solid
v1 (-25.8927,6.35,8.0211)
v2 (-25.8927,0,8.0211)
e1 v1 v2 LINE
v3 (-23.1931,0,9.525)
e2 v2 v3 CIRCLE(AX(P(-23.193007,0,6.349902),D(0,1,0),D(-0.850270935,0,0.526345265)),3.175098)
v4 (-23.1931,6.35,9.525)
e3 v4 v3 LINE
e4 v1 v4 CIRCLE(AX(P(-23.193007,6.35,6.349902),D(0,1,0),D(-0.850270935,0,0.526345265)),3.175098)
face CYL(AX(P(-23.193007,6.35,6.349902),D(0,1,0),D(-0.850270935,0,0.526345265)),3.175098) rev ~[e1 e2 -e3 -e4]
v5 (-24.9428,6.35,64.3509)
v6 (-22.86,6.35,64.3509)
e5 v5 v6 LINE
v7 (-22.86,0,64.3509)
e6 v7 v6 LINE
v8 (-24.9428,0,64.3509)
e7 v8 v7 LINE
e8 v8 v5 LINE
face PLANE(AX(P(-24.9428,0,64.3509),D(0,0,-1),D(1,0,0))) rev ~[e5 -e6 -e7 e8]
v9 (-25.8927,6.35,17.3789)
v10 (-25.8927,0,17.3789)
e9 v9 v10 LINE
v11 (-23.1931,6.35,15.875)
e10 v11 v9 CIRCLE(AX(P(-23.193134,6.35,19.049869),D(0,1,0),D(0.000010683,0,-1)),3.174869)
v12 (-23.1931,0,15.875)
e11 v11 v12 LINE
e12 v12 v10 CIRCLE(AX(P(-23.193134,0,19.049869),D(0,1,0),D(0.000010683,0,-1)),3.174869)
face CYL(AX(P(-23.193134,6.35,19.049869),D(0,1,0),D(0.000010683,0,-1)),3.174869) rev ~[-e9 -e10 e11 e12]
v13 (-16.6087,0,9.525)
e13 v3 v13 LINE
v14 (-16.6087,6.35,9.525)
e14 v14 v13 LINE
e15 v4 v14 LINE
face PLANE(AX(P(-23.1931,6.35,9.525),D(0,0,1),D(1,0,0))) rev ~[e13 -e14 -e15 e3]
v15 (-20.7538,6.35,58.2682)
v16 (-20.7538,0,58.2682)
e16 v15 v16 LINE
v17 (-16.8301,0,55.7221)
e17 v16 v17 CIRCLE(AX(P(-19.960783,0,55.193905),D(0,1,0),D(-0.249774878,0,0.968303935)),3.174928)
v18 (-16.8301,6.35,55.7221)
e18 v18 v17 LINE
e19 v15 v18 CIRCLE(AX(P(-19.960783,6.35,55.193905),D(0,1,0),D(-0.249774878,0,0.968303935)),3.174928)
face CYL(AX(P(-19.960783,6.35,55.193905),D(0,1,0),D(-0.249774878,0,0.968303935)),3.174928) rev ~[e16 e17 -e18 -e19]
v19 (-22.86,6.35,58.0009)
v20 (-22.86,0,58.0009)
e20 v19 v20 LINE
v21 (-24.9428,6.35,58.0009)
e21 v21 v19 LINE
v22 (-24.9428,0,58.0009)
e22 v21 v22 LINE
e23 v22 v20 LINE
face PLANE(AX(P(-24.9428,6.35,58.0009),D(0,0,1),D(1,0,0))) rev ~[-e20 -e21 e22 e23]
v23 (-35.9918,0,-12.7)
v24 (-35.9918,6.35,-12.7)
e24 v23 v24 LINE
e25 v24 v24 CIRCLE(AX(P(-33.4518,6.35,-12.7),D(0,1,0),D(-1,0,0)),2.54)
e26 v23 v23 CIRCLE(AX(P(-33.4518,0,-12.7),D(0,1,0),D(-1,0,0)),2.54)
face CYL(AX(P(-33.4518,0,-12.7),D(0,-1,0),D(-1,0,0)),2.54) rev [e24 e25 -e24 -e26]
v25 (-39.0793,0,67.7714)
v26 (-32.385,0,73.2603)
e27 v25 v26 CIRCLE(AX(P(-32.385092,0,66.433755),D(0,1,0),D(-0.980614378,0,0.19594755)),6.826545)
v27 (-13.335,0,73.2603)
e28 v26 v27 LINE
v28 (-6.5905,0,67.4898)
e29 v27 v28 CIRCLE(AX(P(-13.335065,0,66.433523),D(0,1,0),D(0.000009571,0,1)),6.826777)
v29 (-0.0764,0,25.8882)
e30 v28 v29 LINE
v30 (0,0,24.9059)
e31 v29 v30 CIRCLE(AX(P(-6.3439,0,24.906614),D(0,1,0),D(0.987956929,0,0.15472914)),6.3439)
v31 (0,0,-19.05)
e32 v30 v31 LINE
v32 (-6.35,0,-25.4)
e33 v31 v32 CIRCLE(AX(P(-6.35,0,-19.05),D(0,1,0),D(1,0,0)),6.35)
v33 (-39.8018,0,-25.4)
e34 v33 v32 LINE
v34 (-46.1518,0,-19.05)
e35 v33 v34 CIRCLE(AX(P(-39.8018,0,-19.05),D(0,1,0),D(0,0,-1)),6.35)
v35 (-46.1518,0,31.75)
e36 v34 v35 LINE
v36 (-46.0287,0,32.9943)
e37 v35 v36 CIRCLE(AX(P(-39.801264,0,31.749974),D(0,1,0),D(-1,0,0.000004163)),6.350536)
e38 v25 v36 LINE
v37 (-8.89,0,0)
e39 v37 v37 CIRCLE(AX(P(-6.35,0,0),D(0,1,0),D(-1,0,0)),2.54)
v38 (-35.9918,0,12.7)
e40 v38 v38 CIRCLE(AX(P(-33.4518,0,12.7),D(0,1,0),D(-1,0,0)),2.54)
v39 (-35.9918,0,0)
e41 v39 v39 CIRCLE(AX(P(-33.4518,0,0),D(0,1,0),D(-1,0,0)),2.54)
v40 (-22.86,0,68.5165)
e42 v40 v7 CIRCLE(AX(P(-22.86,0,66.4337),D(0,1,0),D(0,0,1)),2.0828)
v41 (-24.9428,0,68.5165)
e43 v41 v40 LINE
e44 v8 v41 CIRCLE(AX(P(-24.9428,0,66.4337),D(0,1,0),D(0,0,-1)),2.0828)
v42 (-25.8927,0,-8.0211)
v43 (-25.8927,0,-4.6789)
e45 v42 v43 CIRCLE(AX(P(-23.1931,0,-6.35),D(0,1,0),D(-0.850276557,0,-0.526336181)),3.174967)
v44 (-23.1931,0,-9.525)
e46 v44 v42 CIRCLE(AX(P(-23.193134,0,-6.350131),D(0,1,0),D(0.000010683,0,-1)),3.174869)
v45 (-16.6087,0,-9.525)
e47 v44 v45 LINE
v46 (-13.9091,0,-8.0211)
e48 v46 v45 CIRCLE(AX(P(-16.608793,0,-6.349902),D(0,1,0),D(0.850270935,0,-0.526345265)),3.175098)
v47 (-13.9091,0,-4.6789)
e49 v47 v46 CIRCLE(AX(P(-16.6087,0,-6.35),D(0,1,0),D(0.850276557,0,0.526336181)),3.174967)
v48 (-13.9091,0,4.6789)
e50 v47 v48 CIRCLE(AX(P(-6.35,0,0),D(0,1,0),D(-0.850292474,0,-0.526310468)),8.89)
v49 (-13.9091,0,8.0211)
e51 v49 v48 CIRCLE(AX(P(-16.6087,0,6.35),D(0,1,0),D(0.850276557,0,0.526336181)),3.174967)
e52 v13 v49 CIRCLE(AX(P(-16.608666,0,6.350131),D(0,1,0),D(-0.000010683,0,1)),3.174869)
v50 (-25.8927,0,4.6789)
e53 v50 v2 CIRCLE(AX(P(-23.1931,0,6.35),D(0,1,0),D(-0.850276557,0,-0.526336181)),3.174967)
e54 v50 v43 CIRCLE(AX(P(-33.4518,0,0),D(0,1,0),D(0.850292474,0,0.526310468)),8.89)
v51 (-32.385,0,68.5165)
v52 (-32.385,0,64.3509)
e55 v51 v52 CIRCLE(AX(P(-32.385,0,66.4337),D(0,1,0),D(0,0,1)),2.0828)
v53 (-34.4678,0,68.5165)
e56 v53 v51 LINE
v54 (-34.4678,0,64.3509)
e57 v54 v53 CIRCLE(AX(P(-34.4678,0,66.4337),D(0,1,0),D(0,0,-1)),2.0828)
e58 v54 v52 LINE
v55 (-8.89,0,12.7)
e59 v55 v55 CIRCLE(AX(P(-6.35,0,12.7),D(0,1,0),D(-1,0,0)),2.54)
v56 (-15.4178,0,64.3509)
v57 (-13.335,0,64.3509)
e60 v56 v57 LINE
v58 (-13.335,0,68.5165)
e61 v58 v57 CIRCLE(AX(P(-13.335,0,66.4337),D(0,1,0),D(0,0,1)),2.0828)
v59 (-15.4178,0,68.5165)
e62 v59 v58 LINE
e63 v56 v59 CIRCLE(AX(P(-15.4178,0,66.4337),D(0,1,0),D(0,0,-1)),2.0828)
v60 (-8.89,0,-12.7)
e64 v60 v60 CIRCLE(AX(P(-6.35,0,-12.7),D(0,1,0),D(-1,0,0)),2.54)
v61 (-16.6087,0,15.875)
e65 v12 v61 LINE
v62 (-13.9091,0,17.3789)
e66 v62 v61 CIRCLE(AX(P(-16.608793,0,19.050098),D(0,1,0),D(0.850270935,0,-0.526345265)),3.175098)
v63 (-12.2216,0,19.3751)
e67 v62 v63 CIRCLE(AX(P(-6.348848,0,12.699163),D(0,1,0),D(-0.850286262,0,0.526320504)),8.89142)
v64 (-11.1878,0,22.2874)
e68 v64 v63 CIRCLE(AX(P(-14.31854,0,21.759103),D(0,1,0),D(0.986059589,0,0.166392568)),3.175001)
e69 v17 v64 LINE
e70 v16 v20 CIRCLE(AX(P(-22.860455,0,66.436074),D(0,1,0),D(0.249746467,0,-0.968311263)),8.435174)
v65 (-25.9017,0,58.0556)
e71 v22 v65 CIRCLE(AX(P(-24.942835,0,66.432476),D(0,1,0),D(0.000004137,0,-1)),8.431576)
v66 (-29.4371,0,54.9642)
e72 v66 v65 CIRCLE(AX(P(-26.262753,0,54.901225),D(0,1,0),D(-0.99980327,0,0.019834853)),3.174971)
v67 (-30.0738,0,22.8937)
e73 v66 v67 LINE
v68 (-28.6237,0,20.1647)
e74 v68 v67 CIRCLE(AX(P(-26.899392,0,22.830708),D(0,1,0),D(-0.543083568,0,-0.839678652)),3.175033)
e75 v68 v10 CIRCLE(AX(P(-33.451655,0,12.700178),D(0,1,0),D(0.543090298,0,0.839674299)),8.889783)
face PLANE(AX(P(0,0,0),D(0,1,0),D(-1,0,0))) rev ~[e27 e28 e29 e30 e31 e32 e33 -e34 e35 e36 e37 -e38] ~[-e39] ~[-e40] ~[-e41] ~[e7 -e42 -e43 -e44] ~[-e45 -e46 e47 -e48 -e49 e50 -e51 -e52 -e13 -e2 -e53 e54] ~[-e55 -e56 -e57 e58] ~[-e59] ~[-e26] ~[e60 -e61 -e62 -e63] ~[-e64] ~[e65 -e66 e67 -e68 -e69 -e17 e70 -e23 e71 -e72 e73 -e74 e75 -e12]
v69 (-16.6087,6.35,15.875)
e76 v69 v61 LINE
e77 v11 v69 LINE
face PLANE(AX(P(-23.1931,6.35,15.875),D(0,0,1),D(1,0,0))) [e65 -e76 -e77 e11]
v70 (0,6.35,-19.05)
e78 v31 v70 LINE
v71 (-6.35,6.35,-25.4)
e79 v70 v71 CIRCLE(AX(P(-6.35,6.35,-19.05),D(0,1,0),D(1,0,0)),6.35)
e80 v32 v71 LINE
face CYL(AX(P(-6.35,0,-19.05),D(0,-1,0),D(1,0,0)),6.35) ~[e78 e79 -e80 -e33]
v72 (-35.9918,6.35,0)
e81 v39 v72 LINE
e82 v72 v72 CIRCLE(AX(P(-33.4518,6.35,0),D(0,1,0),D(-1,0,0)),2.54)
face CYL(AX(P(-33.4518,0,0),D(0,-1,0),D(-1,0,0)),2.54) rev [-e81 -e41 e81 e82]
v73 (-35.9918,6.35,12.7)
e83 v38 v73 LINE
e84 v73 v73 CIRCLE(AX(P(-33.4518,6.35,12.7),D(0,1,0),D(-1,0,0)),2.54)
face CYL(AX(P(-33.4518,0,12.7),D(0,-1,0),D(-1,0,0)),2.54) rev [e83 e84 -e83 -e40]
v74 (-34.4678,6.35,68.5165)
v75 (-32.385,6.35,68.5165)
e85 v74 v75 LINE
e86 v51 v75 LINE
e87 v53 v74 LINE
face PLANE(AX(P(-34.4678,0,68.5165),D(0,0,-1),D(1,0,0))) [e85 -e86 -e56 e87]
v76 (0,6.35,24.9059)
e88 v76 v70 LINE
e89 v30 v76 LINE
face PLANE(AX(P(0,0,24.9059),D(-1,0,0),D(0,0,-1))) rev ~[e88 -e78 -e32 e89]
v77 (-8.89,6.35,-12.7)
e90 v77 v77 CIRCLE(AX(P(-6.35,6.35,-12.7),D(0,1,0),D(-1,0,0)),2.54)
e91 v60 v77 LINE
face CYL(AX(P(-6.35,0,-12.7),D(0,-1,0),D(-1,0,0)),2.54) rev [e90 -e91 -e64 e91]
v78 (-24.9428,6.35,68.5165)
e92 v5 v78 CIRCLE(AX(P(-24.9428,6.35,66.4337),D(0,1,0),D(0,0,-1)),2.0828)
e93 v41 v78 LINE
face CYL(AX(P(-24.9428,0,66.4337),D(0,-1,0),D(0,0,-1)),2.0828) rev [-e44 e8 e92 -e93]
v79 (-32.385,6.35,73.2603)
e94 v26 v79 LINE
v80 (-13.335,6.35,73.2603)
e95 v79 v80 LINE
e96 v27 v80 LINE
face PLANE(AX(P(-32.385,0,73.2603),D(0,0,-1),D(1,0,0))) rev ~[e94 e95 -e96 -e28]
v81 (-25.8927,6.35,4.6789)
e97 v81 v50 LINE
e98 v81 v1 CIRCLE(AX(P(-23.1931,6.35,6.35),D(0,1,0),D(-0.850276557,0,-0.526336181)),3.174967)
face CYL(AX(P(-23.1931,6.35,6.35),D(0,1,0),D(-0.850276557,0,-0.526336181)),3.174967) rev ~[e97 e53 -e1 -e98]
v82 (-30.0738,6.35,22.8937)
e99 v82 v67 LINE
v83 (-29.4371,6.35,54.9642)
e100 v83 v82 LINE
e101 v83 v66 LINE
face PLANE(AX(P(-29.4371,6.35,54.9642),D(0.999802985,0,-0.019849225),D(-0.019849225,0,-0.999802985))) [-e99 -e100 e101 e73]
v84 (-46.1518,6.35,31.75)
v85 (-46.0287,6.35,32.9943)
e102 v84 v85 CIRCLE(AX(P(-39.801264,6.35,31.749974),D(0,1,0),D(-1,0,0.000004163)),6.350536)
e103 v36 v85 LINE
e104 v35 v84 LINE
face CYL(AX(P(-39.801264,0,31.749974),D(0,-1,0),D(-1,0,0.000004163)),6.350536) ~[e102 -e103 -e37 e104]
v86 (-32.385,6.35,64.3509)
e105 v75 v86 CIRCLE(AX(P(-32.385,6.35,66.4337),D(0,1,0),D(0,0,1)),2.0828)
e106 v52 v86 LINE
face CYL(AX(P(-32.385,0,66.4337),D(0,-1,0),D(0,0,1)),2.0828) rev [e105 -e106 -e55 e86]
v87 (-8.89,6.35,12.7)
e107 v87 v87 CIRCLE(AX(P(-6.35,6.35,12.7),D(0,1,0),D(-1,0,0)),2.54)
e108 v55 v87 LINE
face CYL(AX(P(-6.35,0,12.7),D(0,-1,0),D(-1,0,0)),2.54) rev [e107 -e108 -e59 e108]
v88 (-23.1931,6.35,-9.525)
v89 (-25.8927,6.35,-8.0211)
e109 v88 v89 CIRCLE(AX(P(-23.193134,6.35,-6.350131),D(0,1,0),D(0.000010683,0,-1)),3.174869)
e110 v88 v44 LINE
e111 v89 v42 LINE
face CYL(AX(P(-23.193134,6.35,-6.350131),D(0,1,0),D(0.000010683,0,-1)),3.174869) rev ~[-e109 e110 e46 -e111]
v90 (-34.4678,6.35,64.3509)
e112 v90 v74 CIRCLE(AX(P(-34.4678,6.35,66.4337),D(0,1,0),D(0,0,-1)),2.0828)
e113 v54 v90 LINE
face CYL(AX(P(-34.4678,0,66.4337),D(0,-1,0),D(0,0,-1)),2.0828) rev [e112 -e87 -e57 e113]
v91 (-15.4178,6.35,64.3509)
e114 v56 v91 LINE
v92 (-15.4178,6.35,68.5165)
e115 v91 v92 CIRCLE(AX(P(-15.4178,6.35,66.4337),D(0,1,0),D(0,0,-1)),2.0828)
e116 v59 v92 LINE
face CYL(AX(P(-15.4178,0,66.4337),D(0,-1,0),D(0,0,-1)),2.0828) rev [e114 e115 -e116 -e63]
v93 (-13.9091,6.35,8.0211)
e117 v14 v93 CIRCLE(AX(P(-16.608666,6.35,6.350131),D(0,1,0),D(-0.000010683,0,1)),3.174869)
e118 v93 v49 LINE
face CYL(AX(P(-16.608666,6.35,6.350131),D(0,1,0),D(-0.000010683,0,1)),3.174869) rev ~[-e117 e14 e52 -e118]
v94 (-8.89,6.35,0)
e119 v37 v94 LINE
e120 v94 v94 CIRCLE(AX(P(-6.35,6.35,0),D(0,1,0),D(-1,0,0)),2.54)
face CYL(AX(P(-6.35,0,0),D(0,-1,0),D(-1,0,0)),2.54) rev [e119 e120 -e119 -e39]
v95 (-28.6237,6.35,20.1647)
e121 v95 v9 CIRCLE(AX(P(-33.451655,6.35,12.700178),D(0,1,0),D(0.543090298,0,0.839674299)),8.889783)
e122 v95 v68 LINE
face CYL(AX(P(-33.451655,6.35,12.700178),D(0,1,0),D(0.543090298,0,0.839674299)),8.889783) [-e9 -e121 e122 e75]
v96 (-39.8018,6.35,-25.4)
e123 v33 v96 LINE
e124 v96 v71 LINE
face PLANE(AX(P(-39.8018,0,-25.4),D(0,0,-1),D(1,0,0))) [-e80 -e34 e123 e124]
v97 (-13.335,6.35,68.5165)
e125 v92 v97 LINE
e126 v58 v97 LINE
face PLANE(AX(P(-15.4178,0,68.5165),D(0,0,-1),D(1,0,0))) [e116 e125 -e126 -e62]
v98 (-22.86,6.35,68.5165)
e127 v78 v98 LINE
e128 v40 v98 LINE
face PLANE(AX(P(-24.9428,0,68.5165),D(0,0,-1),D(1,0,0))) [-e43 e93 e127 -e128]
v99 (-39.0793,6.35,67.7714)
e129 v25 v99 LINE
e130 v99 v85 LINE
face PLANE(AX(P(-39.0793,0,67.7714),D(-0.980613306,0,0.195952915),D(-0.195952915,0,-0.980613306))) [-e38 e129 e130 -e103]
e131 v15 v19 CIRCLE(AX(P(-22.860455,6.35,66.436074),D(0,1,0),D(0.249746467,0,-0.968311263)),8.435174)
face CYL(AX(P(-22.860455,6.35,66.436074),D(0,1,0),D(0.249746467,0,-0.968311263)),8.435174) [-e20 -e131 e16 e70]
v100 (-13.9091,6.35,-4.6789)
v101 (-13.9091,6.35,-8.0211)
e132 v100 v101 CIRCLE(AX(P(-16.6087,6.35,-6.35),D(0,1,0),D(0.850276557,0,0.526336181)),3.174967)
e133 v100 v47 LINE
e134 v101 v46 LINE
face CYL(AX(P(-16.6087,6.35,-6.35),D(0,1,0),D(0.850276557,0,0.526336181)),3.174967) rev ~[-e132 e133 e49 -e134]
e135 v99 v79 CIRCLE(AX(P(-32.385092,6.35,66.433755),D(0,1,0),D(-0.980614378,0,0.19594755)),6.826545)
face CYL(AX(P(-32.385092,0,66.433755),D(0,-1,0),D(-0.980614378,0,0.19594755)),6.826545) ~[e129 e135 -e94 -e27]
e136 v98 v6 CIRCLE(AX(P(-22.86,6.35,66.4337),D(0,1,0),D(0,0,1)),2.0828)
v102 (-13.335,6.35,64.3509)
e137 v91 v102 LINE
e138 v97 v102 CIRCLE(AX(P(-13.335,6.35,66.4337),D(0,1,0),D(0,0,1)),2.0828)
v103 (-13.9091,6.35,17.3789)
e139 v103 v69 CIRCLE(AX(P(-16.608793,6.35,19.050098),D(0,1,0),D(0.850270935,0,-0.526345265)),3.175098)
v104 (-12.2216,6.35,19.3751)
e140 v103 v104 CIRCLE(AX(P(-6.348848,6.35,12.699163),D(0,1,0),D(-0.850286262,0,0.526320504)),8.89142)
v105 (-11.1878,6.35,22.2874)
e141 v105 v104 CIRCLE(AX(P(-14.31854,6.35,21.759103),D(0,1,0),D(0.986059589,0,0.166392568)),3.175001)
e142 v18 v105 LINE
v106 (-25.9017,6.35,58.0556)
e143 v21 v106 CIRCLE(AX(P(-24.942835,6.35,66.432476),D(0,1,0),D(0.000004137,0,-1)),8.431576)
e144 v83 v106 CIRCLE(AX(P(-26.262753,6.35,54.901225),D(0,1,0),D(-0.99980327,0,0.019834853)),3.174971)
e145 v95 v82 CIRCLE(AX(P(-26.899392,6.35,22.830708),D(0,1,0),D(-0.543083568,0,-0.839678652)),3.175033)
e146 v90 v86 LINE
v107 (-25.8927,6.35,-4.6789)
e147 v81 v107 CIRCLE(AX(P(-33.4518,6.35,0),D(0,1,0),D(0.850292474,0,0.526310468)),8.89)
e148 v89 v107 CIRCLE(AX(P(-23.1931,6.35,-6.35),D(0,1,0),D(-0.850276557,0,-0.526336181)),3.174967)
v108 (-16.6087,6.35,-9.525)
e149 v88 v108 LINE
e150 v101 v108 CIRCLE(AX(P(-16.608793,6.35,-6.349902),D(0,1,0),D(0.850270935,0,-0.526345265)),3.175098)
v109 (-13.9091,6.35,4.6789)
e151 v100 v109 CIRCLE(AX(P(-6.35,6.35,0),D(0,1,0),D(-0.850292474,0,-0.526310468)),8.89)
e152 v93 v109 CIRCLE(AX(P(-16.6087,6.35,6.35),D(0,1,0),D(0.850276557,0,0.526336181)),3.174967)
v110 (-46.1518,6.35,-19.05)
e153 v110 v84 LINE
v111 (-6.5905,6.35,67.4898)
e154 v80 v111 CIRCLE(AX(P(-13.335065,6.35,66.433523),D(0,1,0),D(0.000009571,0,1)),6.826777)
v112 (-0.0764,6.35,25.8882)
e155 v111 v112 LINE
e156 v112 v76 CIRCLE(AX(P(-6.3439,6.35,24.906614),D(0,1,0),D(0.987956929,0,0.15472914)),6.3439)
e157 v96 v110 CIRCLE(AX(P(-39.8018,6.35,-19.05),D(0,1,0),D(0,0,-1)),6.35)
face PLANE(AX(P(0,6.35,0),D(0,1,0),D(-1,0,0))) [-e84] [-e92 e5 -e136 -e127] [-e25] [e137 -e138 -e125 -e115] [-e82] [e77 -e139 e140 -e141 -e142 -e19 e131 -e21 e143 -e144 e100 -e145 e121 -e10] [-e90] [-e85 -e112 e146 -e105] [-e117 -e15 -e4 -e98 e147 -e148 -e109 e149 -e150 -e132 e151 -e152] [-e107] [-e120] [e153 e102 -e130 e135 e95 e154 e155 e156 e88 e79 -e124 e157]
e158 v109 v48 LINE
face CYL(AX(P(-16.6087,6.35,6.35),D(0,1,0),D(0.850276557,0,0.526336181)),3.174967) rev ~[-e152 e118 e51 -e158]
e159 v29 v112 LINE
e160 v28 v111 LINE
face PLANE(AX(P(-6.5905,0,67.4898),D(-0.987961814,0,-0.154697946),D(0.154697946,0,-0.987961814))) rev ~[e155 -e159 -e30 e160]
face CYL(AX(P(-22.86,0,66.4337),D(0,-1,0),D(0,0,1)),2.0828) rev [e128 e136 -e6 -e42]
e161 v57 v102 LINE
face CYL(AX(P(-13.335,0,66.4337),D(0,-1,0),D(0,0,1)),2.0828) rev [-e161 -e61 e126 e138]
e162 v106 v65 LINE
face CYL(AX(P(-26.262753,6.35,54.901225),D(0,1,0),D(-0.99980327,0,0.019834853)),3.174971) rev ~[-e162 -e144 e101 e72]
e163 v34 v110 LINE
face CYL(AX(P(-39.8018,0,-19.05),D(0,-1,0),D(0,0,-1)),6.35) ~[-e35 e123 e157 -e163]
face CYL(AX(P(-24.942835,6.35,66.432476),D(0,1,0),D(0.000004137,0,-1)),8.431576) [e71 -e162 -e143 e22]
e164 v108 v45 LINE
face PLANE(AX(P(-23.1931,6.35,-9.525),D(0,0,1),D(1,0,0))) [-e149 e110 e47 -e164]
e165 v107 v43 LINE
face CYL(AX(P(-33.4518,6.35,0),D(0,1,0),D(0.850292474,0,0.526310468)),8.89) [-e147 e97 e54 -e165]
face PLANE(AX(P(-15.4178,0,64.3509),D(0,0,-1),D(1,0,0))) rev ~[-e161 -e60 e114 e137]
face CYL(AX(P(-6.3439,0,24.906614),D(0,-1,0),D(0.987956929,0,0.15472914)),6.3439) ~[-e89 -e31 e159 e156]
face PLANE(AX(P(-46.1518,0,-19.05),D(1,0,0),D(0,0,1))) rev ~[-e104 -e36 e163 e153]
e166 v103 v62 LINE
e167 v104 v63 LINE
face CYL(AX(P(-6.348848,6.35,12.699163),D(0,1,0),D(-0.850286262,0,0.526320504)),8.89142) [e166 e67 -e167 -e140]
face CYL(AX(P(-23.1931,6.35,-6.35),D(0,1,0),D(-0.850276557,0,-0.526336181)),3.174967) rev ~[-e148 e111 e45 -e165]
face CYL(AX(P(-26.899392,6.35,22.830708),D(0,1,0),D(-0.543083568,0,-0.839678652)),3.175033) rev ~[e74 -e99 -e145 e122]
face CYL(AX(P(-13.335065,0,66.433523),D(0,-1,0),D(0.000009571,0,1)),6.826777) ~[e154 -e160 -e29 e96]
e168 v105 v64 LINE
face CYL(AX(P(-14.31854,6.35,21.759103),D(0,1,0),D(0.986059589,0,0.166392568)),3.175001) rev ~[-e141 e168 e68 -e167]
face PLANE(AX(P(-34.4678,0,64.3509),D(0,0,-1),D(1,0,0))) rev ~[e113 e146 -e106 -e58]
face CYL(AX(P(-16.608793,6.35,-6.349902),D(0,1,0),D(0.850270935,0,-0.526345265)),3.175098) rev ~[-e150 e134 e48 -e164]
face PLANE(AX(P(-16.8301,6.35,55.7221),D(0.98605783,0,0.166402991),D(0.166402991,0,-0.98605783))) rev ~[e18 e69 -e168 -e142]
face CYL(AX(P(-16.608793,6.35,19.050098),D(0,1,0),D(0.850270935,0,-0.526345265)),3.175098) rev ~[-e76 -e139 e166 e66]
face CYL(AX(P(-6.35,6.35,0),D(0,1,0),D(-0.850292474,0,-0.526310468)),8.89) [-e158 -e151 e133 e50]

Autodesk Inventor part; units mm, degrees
ref_plane "YZ Plane" through (0, 0, 0) normal (1, 0, 0) x (0, 1, 0)
ref_plane "XZ Plane" through (0, 0, 0) normal (0, 1, 0) x (-1, 0, 0)
ref_plane "XY Plane" through (0, 0, 0) normal (0, 0, 1) x (1, 0, 0)
sketch "Sketch1" plane through (0, 0, 0) normal (0, 1, 0) x (-1, 0, 0)
  line L0 (0, 25.4) -> (0, -25.4) construction
  line L1 (0, -25.4) -> (46.1518, -25.4) construction
  line L2 (15.4178, 64.3509) -> (13.335, 64.3509)
  line L3 (15.4178, 68.5165) -> (13.335, 68.5165)
  arc A0 (13.335, 68.5165) -> (13.335, 64.3509) centre (13.335, 66.4337) ccw
  arc A1 (15.4178, 64.3509) -> (15.4178, 68.5165) centre (15.4178, 66.4337) ccw
  circle A2 centre (13.335, 66.4337) radius 6.8266 construction
  line L4 (32.385, 73.2603) -> (13.335, 73.2603)
  circle A3 centre (6.35, 0) radius 2.54
  circle A4 centre (6.35, -12.7) radius 2.54
  circle A5 centre (6.35, 12.7) radius 2.54
  line L5 (6.35, -12.7) -> (6.35, 12.7) construction
  line L6 (6.5905, 67.4898) -> (0.0764, 25.8882)
  line L7 (0, 24.9059) -> (0, -19.05)
  arc A6 (0.0764, 25.8882) -> (0, 24.9059) centre (6.35, 24.9059) ccw
  line L8 (46.1518, -19.05) -> (46.1518, 31.75)
  line L9 (39.0793, 67.7714) -> (46.0287, 32.9943)
  arc A7 (46.1518, 31.75) -> (46.0287, 32.9943) centre (39.8018, 31.75) ccw
  arc A8 (13.335, 73.2603) -> (6.5905, 67.4898) centre (13.335, 66.4337) ccw
  line L10 (39.8018, -25.4) -> (6.35, -25.4)
  circle A9 centre (33.4518, 12.7) radius 2.54
  circle A10 centre (33.4518, 0) radius 2.54
  circle A11 centre (33.4518, -12.7) radius 2.54
  line L11 (33.4518, -12.7) -> (33.4518, 12.7) construction
  arc A12 (39.8018, -25.4) -> (46.1518, -19.05) centre (39.8018, -19.05) ccw
  arc A13 (0, -19.05) -> (6.35, -25.4) centre (6.35, -19.05) ccw
  arc A14 (24.9428, 64.3509) -> (24.9428, 68.5165) centre (24.9428, 66.4337) ccw
  line L12 (24.9428, 64.3509) -> (22.86, 64.3509)
  line L13 (24.9428, 68.5165) -> (22.86, 68.5165)
  arc A15 (22.86, 68.5165) -> (22.86, 64.3509) centre (22.86, 66.4337) ccw
  circle A16 centre (22.86, 66.4337) radius 6.8266 construction
  arc A17 (34.4678, 64.3509) -> (34.4678, 68.5165) centre (34.4678, 66.4337) ccw
  line L14 (34.4678, 64.3509) -> (32.385, 64.3509)
  line L15 (34.4678, 68.5165) -> (32.385, 68.5165)
  arc A18 (32.385, 68.5165) -> (32.385, 64.3509) centre (32.385, 66.4337) ccw
  circle A19 centre (32.385, 66.4337) radius 6.8266 construction
  arc A20 (39.0793, 67.7714) -> (32.385, 73.2603) centre (32.385, 66.4337) ccw
  line L16 (34.4678, 66.4337) -> (13.335, 66.4337) construction
  point P0 (0, 0)
  point P1 (0, 0)
  point P2 (22.86, 73.2603)
  point P3 (16.1155, 67.4898)
  point P4 (25.6405, 67.4898)
  dimension "d2" = 50.8
  dimension "d3" = 6.35
  dimension "d6" = 91.8337
  dimension "d8" = 13.335
  dimension "d9" = 2.0828
  dimension "d10" = 2.0828
  dimension "d11" = 2.0828
  dimension "d21" = 13.6533
  dimension "d31" = 5.08
  dimension "d32" = 12.7
  dimension "d33" = 12.7
  dimension "d41" = 6.35
  dimension "d42" = 6.35
  dimension "d43" = 13.335
  dimension "d45" = 12.7
  dimension "d46" = 12.7
  dimension "d47" = 6.35
  dimension "d85" = 9.525
  dimension "d90" = 27.1018
extrude "Extrusion3" add sketch "Sketch1" along normal blind 6.35
sketch "Sketch3" plane through (0, 6.35, 0) normal (0, 1, 0) x (1, 0, 0)
  line L0 (-32.385, -73.2603) -> (-13.335, -73.2603) construction
  arc A0 (-13.335, -73.2603) -> (-6.5905, -67.4898) centre (-13.335, -66.4337) ccw construction
  line L1 (-6.5905, -67.4898) -> (-0.0764, -25.8882) construction
  arc A1 (-0.0764, -25.8882) -> (0, -24.9059) centre (-6.35, -24.9059) ccw construction
  line L2 (0, -24.9059) -> (0, 19.05) construction
  arc A2 (0, 19.05) -> (-6.35, 25.4) centre (-6.35, 19.05) ccw construction
  line L3 (-6.35, 25.4) -> (-39.8018, 25.4) construction
  arc A3 (-39.8018, 25.4) -> (-46.1518, 19.05) centre (-39.8018, 19.05) ccw construction
  line L4 (-46.1518, 19.05) -> (-46.1518, -31.75) construction
  arc A4 (-46.1518, -31.75) -> (-46.0287, -32.9943) centre (-39.8018, -31.75) ccw construction
  line L5 (-46.0287, -32.9943) -> (-39.0793, -67.7714) construction
  arc A5 (-39.0793, -67.7714) -> (-32.385, -73.2603) centre (-32.385, -66.4337) ccw construction
  circle A6 centre (-6.35, 0) radius 2.54 construction
  circle A7 centre (-6.35, 12.7) radius 2.54 construction
  circle A8 centre (-6.35, -12.7) radius 2.54 construction
  circle A9 centre (-33.4518, -12.7) radius 2.54 construction
  circle A10 centre (-33.4518, 0) radius 2.54 construction
  circle A11 centre (-33.4518, 12.7) radius 2.54 construction
  line L6 (-34.4678, -64.3509) -> (-32.385, -64.3509) construction
  arc A12 (-32.385, -68.5165) -> (-32.385, -64.3509) centre (-32.385, -66.4337) ccw construction
  line L7 (-32.385, -68.5165) -> (-34.4678, -68.5165) construction
  arc A13 (-34.4678, -64.3509) -> (-34.4678, -68.5165) centre (-34.4678, -66.4337) ccw construction
  line L8 (-24.9428, -64.3509) -> (-22.86, -64.3509) construction
  arc A14 (-22.86, -68.5165) -> (-22.86, -64.3509) centre (-22.86, -66.4337) ccw construction
  line L9 (-22.86, -68.5165) -> (-24.9428, -68.5165) construction
  arc A15 (-24.9428, -64.3509) -> (-24.9428, -68.5165) centre (-24.9428, -66.4337) ccw construction
  arc A16 (-15.4178, -64.3509) -> (-15.4178, -68.5165) centre (-15.4178, -66.4337) ccw construction
  line L10 (-15.4178, -64.3509) -> (-13.335, -64.3509) construction
  arc A17 (-13.335, -68.5165) -> (-13.335, -64.3509) centre (-13.335, -66.4337) ccw construction
  line L11 (-13.335, -68.5165) -> (-15.4178, -68.5165) construction
  line L12 (-32.8524, -66.5271) -> (-39.8018, -31.75) construction
  line L13 (-39.8018, -31.75) -> (-39.8018, 19.05) construction
  line L14 (-39.8018, 19.05) -> (-6.35, 19.05) construction
  line L15 (-6.35, 19.05) -> (-6.35, -24.9059) construction
  line L16 (-6.35, -24.9059) -> (-12.8641, -66.5074) construction
  arc A18 (-13.335, -66.9103) -> (-12.8641, -66.5074) centre (-13.335, -66.4337) ccw construction
  line L17 (-13.335, -66.9103) -> (-32.385, -66.9103) construction
  arc A19 (-32.8524, -66.5271) -> (-32.385, -66.9103) centre (-32.385, -66.4337) ccw construction
  line L18 (-34.4678, -74.8665) -> (-32.385, -74.8665) construction
  arc A20 (-32.385, -74.8665) -> (-32.385, -58.0009) centre (-32.385, -66.4337) ccw construction
  line L19 (-32.385, -58.0009) -> (-34.4678, -58.0009) construction
  arc A21 (-34.4678, -58.0009) -> (-34.4678, -74.8665) centre (-34.4678, -66.4337) ccw construction
  line L20 (-24.9428, -74.8665) -> (-22.86, -74.8665) construction
  arc A22 (-22.86, -74.8665) -> (-22.86, -58.0009) centre (-22.86, -66.4337) ccw construction
  line L21 (-22.86, -58.0009) -> (-24.9428, -58.0009) construction
  arc A23 (-24.9428, -58.0009) -> (-24.9428, -74.8665) centre (-24.9428, -66.4337) ccw construction
  arc A24 (-15.4178, -58.0009) -> (-15.4178, -74.8665) centre (-15.4178, -66.4337) ccw construction
  line L22 (-15.4178, -58.0009) -> (-13.335, -58.0009) construction
  arc A25 (-13.335, -74.8665) -> (-13.335, -58.0009) centre (-13.335, -66.4337) ccw construction
  line L23 (-13.335, -74.8665) -> (-15.4178, -74.8665) construction
  circle A26 centre (-33.4518, -12.7) radius 8.89 construction
  circle A27 centre (-33.4518, 0) radius 8.89 construction
  circle A28 centre (-33.4518, 12.7) radius 8.89 construction
  circle A29 centre (-6.35, 12.7) radius 8.89 construction
  circle A30 centre (-6.35, 0) radius 8.89 construction
  circle A31 centre (-6.35, -12.7) radius 8.89 construction
  line L24 (-24.5618, -12.7) -> (-15.24, -12.7) construction
  line L25 (-24.5618, 12.7) -> (-15.24, 12.7) construction
  line L26 (-32.5524, -58.0009) -> (-33.2753, -21.5882) construction
  line L27 (-13.9947, -58.0009) -> (-7.8293, -21.4661) construction
  line L28 (-29.4371, -54.9642) -> (-30.0738, -22.8937)
  line L29 (-16.8301, -55.7221) -> (-11.1878, -22.2874)
  line L30 (-23.1931, -15.875) -> (-16.6087, -15.875)
  line L31 (-23.1931, -9.525) -> (-16.6087, -9.525)
  line L32 (-23.1931, 9.525) -> (-16.6087, 9.525)
  arc A32 (-28.6237, -20.1647) -> (-25.8927, -17.3789) centre (-33.4518, -12.7) ccw
  arc A33 (-13.9091, -17.3789) -> (-12.2216, -19.3751) centre (-6.35, -12.7) ccw
  arc A34 (-28.6237, -20.1647) -> (-30.0738, -22.8937) centre (-26.8994, -22.8307) ccw
  arc A35 (-23.1931, -15.875) -> (-25.8927, -17.3789) centre (-23.1931, -19.05) ccw
  arc A36 (-13.9091, -17.3789) -> (-16.6087, -15.875) centre (-16.6087, -19.05) ccw
  arc A37 (-11.1878, -22.2874) -> (-12.2216, -19.3751) centre (-14.3185, -21.7591) ccw
  arc A38 (-25.8927, -4.6789) -> (-25.8927, 4.6789) centre (-33.4518, 0) ccw
  arc A39 (-13.9091, 4.6789) -> (-13.9091, -4.6789) centre (-6.35, 0) ccw
  arc A40 (-13.9091, -8.0211) -> (-13.9091, -8.0211) centre (-6.35, -12.7) ccw
  arc A41 (-25.8927, -8.0211) -> (-25.8927, -8.0211) centre (-33.4518, -12.7) ccw
  arc A42 (-25.8927, 8.0211) -> (-25.8927, 8.0211) centre (-33.4518, 12.7) ccw
  arc A43 (-13.9091, 8.0211) -> (-13.9091, 8.0211) centre (-6.35, 12.7) ccw
  arc A44 (-25.8927, -8.0211) -> (-23.1931, -9.525) centre (-23.1931, -6.35) ccw
  arc A45 (-25.8927, -4.6789) -> (-25.8927, -8.0211) centre (-23.1931, -6.35) ccw
  arc A46 (-23.1931, 9.525) -> (-25.8927, 8.0211) centre (-23.1931, 6.35) ccw
  arc A47 (-25.8927, 8.0211) -> (-25.8927, 4.6789) centre (-23.1931, 6.35) ccw
  arc A48 (-13.9091, 8.0211) -> (-16.6087, 9.525) centre (-16.6087, 6.35) ccw
  arc A49 (-13.9091, 4.6789) -> (-13.9091, 8.0211) centre (-16.6087, 6.35) ccw
  arc A50 (-16.6087, -9.525) -> (-13.9091, -8.0211) centre (-16.6087, -6.35) ccw
  arc A51 (-13.9091, -8.0211) -> (-13.9091, -4.6789) centre (-16.6087, -6.35) ccw
  arc A52 (-24.9428, -58.0009) -> (-25.9017, -58.0556) centre (-24.9428, -66.4337) ccw
  arc A53 (-20.7538, -58.2682) -> (-22.86, -58.0009) centre (-22.86, -66.4337) ccw
  arc A54 (-17.2486, -58.202) -> (-19.1389, -58.8663) centre (-15.4178, -66.4337) ccw
  arc A55 (-28.6639, -58.8663) -> (-29.3657, -58.56) centre (-32.385, -66.4337) ccw
  arc A56 (-29.4371, -54.9642) -> (-25.9017, -58.0556) centre (-26.2627, -54.9012) ccw
  arc A57 (-20.7538, -58.2682) -> (-16.8301, -55.7221) centre (-19.9608, -55.1938) ccw
  line L33 (-24.9428, -58.0009) -> (-22.86, -58.0009)
  point P0 (0, 0)
  point P1 (-30.1126, -20.939)
  point P2 (-10.8625, -20.3596)
  point P3 (-25.1481, -15.875)
  point P4 (-14.6537, -15.875)
  point P5 (-25.1481, -9.525)
  point P6 (-14.6537, -9.525)
  point P7 (-25.1481, 9.525)
  point P8 (-14.6537, 9.525)
  point P9 (-13.9091, 8.0211)
  point P10 (-25.8927, 8.0211)
  dimension "d93" = 6.35
  dimension "d94" = 6.35
  dimension "d95" = 6.35
  dimension "d96" = 6.35
  dimension "d97" = 6.35
  dimension "d98" = 6.35
  dimension "d99" = 6.35
  dimension "d100" = 6.35
  dimension "d101" = 6.35
  dimension "d102" = 6.35
  dimension "d104" = 3.175
  dimension "d105" = 3.175
  dimension "d107" = 3.175
  dimension "d108" = 3.175
  dimension "d109" = 3.175
  dimension "d112" = 3.175
  dimension "d113" = 3.175
  dimension "d114" = 3.175
  dimension "d115" = 3.175
  dimension "d116" = 3.175
  dimension "d119" = 3.175
extrude "Extrusion5" cut sketch "Sketch3" against normal blind 25.4 contours L28 A34 A32 A35 L30 A36 A33 A37 L29 A57 A53 L33 A52 A56 | A45 A38 A47 A46 L32 A48 A49 A39 A51 A50 L31 A44
properties part number "ELEV_025_CHAINCLAMP1" material "Steel"
